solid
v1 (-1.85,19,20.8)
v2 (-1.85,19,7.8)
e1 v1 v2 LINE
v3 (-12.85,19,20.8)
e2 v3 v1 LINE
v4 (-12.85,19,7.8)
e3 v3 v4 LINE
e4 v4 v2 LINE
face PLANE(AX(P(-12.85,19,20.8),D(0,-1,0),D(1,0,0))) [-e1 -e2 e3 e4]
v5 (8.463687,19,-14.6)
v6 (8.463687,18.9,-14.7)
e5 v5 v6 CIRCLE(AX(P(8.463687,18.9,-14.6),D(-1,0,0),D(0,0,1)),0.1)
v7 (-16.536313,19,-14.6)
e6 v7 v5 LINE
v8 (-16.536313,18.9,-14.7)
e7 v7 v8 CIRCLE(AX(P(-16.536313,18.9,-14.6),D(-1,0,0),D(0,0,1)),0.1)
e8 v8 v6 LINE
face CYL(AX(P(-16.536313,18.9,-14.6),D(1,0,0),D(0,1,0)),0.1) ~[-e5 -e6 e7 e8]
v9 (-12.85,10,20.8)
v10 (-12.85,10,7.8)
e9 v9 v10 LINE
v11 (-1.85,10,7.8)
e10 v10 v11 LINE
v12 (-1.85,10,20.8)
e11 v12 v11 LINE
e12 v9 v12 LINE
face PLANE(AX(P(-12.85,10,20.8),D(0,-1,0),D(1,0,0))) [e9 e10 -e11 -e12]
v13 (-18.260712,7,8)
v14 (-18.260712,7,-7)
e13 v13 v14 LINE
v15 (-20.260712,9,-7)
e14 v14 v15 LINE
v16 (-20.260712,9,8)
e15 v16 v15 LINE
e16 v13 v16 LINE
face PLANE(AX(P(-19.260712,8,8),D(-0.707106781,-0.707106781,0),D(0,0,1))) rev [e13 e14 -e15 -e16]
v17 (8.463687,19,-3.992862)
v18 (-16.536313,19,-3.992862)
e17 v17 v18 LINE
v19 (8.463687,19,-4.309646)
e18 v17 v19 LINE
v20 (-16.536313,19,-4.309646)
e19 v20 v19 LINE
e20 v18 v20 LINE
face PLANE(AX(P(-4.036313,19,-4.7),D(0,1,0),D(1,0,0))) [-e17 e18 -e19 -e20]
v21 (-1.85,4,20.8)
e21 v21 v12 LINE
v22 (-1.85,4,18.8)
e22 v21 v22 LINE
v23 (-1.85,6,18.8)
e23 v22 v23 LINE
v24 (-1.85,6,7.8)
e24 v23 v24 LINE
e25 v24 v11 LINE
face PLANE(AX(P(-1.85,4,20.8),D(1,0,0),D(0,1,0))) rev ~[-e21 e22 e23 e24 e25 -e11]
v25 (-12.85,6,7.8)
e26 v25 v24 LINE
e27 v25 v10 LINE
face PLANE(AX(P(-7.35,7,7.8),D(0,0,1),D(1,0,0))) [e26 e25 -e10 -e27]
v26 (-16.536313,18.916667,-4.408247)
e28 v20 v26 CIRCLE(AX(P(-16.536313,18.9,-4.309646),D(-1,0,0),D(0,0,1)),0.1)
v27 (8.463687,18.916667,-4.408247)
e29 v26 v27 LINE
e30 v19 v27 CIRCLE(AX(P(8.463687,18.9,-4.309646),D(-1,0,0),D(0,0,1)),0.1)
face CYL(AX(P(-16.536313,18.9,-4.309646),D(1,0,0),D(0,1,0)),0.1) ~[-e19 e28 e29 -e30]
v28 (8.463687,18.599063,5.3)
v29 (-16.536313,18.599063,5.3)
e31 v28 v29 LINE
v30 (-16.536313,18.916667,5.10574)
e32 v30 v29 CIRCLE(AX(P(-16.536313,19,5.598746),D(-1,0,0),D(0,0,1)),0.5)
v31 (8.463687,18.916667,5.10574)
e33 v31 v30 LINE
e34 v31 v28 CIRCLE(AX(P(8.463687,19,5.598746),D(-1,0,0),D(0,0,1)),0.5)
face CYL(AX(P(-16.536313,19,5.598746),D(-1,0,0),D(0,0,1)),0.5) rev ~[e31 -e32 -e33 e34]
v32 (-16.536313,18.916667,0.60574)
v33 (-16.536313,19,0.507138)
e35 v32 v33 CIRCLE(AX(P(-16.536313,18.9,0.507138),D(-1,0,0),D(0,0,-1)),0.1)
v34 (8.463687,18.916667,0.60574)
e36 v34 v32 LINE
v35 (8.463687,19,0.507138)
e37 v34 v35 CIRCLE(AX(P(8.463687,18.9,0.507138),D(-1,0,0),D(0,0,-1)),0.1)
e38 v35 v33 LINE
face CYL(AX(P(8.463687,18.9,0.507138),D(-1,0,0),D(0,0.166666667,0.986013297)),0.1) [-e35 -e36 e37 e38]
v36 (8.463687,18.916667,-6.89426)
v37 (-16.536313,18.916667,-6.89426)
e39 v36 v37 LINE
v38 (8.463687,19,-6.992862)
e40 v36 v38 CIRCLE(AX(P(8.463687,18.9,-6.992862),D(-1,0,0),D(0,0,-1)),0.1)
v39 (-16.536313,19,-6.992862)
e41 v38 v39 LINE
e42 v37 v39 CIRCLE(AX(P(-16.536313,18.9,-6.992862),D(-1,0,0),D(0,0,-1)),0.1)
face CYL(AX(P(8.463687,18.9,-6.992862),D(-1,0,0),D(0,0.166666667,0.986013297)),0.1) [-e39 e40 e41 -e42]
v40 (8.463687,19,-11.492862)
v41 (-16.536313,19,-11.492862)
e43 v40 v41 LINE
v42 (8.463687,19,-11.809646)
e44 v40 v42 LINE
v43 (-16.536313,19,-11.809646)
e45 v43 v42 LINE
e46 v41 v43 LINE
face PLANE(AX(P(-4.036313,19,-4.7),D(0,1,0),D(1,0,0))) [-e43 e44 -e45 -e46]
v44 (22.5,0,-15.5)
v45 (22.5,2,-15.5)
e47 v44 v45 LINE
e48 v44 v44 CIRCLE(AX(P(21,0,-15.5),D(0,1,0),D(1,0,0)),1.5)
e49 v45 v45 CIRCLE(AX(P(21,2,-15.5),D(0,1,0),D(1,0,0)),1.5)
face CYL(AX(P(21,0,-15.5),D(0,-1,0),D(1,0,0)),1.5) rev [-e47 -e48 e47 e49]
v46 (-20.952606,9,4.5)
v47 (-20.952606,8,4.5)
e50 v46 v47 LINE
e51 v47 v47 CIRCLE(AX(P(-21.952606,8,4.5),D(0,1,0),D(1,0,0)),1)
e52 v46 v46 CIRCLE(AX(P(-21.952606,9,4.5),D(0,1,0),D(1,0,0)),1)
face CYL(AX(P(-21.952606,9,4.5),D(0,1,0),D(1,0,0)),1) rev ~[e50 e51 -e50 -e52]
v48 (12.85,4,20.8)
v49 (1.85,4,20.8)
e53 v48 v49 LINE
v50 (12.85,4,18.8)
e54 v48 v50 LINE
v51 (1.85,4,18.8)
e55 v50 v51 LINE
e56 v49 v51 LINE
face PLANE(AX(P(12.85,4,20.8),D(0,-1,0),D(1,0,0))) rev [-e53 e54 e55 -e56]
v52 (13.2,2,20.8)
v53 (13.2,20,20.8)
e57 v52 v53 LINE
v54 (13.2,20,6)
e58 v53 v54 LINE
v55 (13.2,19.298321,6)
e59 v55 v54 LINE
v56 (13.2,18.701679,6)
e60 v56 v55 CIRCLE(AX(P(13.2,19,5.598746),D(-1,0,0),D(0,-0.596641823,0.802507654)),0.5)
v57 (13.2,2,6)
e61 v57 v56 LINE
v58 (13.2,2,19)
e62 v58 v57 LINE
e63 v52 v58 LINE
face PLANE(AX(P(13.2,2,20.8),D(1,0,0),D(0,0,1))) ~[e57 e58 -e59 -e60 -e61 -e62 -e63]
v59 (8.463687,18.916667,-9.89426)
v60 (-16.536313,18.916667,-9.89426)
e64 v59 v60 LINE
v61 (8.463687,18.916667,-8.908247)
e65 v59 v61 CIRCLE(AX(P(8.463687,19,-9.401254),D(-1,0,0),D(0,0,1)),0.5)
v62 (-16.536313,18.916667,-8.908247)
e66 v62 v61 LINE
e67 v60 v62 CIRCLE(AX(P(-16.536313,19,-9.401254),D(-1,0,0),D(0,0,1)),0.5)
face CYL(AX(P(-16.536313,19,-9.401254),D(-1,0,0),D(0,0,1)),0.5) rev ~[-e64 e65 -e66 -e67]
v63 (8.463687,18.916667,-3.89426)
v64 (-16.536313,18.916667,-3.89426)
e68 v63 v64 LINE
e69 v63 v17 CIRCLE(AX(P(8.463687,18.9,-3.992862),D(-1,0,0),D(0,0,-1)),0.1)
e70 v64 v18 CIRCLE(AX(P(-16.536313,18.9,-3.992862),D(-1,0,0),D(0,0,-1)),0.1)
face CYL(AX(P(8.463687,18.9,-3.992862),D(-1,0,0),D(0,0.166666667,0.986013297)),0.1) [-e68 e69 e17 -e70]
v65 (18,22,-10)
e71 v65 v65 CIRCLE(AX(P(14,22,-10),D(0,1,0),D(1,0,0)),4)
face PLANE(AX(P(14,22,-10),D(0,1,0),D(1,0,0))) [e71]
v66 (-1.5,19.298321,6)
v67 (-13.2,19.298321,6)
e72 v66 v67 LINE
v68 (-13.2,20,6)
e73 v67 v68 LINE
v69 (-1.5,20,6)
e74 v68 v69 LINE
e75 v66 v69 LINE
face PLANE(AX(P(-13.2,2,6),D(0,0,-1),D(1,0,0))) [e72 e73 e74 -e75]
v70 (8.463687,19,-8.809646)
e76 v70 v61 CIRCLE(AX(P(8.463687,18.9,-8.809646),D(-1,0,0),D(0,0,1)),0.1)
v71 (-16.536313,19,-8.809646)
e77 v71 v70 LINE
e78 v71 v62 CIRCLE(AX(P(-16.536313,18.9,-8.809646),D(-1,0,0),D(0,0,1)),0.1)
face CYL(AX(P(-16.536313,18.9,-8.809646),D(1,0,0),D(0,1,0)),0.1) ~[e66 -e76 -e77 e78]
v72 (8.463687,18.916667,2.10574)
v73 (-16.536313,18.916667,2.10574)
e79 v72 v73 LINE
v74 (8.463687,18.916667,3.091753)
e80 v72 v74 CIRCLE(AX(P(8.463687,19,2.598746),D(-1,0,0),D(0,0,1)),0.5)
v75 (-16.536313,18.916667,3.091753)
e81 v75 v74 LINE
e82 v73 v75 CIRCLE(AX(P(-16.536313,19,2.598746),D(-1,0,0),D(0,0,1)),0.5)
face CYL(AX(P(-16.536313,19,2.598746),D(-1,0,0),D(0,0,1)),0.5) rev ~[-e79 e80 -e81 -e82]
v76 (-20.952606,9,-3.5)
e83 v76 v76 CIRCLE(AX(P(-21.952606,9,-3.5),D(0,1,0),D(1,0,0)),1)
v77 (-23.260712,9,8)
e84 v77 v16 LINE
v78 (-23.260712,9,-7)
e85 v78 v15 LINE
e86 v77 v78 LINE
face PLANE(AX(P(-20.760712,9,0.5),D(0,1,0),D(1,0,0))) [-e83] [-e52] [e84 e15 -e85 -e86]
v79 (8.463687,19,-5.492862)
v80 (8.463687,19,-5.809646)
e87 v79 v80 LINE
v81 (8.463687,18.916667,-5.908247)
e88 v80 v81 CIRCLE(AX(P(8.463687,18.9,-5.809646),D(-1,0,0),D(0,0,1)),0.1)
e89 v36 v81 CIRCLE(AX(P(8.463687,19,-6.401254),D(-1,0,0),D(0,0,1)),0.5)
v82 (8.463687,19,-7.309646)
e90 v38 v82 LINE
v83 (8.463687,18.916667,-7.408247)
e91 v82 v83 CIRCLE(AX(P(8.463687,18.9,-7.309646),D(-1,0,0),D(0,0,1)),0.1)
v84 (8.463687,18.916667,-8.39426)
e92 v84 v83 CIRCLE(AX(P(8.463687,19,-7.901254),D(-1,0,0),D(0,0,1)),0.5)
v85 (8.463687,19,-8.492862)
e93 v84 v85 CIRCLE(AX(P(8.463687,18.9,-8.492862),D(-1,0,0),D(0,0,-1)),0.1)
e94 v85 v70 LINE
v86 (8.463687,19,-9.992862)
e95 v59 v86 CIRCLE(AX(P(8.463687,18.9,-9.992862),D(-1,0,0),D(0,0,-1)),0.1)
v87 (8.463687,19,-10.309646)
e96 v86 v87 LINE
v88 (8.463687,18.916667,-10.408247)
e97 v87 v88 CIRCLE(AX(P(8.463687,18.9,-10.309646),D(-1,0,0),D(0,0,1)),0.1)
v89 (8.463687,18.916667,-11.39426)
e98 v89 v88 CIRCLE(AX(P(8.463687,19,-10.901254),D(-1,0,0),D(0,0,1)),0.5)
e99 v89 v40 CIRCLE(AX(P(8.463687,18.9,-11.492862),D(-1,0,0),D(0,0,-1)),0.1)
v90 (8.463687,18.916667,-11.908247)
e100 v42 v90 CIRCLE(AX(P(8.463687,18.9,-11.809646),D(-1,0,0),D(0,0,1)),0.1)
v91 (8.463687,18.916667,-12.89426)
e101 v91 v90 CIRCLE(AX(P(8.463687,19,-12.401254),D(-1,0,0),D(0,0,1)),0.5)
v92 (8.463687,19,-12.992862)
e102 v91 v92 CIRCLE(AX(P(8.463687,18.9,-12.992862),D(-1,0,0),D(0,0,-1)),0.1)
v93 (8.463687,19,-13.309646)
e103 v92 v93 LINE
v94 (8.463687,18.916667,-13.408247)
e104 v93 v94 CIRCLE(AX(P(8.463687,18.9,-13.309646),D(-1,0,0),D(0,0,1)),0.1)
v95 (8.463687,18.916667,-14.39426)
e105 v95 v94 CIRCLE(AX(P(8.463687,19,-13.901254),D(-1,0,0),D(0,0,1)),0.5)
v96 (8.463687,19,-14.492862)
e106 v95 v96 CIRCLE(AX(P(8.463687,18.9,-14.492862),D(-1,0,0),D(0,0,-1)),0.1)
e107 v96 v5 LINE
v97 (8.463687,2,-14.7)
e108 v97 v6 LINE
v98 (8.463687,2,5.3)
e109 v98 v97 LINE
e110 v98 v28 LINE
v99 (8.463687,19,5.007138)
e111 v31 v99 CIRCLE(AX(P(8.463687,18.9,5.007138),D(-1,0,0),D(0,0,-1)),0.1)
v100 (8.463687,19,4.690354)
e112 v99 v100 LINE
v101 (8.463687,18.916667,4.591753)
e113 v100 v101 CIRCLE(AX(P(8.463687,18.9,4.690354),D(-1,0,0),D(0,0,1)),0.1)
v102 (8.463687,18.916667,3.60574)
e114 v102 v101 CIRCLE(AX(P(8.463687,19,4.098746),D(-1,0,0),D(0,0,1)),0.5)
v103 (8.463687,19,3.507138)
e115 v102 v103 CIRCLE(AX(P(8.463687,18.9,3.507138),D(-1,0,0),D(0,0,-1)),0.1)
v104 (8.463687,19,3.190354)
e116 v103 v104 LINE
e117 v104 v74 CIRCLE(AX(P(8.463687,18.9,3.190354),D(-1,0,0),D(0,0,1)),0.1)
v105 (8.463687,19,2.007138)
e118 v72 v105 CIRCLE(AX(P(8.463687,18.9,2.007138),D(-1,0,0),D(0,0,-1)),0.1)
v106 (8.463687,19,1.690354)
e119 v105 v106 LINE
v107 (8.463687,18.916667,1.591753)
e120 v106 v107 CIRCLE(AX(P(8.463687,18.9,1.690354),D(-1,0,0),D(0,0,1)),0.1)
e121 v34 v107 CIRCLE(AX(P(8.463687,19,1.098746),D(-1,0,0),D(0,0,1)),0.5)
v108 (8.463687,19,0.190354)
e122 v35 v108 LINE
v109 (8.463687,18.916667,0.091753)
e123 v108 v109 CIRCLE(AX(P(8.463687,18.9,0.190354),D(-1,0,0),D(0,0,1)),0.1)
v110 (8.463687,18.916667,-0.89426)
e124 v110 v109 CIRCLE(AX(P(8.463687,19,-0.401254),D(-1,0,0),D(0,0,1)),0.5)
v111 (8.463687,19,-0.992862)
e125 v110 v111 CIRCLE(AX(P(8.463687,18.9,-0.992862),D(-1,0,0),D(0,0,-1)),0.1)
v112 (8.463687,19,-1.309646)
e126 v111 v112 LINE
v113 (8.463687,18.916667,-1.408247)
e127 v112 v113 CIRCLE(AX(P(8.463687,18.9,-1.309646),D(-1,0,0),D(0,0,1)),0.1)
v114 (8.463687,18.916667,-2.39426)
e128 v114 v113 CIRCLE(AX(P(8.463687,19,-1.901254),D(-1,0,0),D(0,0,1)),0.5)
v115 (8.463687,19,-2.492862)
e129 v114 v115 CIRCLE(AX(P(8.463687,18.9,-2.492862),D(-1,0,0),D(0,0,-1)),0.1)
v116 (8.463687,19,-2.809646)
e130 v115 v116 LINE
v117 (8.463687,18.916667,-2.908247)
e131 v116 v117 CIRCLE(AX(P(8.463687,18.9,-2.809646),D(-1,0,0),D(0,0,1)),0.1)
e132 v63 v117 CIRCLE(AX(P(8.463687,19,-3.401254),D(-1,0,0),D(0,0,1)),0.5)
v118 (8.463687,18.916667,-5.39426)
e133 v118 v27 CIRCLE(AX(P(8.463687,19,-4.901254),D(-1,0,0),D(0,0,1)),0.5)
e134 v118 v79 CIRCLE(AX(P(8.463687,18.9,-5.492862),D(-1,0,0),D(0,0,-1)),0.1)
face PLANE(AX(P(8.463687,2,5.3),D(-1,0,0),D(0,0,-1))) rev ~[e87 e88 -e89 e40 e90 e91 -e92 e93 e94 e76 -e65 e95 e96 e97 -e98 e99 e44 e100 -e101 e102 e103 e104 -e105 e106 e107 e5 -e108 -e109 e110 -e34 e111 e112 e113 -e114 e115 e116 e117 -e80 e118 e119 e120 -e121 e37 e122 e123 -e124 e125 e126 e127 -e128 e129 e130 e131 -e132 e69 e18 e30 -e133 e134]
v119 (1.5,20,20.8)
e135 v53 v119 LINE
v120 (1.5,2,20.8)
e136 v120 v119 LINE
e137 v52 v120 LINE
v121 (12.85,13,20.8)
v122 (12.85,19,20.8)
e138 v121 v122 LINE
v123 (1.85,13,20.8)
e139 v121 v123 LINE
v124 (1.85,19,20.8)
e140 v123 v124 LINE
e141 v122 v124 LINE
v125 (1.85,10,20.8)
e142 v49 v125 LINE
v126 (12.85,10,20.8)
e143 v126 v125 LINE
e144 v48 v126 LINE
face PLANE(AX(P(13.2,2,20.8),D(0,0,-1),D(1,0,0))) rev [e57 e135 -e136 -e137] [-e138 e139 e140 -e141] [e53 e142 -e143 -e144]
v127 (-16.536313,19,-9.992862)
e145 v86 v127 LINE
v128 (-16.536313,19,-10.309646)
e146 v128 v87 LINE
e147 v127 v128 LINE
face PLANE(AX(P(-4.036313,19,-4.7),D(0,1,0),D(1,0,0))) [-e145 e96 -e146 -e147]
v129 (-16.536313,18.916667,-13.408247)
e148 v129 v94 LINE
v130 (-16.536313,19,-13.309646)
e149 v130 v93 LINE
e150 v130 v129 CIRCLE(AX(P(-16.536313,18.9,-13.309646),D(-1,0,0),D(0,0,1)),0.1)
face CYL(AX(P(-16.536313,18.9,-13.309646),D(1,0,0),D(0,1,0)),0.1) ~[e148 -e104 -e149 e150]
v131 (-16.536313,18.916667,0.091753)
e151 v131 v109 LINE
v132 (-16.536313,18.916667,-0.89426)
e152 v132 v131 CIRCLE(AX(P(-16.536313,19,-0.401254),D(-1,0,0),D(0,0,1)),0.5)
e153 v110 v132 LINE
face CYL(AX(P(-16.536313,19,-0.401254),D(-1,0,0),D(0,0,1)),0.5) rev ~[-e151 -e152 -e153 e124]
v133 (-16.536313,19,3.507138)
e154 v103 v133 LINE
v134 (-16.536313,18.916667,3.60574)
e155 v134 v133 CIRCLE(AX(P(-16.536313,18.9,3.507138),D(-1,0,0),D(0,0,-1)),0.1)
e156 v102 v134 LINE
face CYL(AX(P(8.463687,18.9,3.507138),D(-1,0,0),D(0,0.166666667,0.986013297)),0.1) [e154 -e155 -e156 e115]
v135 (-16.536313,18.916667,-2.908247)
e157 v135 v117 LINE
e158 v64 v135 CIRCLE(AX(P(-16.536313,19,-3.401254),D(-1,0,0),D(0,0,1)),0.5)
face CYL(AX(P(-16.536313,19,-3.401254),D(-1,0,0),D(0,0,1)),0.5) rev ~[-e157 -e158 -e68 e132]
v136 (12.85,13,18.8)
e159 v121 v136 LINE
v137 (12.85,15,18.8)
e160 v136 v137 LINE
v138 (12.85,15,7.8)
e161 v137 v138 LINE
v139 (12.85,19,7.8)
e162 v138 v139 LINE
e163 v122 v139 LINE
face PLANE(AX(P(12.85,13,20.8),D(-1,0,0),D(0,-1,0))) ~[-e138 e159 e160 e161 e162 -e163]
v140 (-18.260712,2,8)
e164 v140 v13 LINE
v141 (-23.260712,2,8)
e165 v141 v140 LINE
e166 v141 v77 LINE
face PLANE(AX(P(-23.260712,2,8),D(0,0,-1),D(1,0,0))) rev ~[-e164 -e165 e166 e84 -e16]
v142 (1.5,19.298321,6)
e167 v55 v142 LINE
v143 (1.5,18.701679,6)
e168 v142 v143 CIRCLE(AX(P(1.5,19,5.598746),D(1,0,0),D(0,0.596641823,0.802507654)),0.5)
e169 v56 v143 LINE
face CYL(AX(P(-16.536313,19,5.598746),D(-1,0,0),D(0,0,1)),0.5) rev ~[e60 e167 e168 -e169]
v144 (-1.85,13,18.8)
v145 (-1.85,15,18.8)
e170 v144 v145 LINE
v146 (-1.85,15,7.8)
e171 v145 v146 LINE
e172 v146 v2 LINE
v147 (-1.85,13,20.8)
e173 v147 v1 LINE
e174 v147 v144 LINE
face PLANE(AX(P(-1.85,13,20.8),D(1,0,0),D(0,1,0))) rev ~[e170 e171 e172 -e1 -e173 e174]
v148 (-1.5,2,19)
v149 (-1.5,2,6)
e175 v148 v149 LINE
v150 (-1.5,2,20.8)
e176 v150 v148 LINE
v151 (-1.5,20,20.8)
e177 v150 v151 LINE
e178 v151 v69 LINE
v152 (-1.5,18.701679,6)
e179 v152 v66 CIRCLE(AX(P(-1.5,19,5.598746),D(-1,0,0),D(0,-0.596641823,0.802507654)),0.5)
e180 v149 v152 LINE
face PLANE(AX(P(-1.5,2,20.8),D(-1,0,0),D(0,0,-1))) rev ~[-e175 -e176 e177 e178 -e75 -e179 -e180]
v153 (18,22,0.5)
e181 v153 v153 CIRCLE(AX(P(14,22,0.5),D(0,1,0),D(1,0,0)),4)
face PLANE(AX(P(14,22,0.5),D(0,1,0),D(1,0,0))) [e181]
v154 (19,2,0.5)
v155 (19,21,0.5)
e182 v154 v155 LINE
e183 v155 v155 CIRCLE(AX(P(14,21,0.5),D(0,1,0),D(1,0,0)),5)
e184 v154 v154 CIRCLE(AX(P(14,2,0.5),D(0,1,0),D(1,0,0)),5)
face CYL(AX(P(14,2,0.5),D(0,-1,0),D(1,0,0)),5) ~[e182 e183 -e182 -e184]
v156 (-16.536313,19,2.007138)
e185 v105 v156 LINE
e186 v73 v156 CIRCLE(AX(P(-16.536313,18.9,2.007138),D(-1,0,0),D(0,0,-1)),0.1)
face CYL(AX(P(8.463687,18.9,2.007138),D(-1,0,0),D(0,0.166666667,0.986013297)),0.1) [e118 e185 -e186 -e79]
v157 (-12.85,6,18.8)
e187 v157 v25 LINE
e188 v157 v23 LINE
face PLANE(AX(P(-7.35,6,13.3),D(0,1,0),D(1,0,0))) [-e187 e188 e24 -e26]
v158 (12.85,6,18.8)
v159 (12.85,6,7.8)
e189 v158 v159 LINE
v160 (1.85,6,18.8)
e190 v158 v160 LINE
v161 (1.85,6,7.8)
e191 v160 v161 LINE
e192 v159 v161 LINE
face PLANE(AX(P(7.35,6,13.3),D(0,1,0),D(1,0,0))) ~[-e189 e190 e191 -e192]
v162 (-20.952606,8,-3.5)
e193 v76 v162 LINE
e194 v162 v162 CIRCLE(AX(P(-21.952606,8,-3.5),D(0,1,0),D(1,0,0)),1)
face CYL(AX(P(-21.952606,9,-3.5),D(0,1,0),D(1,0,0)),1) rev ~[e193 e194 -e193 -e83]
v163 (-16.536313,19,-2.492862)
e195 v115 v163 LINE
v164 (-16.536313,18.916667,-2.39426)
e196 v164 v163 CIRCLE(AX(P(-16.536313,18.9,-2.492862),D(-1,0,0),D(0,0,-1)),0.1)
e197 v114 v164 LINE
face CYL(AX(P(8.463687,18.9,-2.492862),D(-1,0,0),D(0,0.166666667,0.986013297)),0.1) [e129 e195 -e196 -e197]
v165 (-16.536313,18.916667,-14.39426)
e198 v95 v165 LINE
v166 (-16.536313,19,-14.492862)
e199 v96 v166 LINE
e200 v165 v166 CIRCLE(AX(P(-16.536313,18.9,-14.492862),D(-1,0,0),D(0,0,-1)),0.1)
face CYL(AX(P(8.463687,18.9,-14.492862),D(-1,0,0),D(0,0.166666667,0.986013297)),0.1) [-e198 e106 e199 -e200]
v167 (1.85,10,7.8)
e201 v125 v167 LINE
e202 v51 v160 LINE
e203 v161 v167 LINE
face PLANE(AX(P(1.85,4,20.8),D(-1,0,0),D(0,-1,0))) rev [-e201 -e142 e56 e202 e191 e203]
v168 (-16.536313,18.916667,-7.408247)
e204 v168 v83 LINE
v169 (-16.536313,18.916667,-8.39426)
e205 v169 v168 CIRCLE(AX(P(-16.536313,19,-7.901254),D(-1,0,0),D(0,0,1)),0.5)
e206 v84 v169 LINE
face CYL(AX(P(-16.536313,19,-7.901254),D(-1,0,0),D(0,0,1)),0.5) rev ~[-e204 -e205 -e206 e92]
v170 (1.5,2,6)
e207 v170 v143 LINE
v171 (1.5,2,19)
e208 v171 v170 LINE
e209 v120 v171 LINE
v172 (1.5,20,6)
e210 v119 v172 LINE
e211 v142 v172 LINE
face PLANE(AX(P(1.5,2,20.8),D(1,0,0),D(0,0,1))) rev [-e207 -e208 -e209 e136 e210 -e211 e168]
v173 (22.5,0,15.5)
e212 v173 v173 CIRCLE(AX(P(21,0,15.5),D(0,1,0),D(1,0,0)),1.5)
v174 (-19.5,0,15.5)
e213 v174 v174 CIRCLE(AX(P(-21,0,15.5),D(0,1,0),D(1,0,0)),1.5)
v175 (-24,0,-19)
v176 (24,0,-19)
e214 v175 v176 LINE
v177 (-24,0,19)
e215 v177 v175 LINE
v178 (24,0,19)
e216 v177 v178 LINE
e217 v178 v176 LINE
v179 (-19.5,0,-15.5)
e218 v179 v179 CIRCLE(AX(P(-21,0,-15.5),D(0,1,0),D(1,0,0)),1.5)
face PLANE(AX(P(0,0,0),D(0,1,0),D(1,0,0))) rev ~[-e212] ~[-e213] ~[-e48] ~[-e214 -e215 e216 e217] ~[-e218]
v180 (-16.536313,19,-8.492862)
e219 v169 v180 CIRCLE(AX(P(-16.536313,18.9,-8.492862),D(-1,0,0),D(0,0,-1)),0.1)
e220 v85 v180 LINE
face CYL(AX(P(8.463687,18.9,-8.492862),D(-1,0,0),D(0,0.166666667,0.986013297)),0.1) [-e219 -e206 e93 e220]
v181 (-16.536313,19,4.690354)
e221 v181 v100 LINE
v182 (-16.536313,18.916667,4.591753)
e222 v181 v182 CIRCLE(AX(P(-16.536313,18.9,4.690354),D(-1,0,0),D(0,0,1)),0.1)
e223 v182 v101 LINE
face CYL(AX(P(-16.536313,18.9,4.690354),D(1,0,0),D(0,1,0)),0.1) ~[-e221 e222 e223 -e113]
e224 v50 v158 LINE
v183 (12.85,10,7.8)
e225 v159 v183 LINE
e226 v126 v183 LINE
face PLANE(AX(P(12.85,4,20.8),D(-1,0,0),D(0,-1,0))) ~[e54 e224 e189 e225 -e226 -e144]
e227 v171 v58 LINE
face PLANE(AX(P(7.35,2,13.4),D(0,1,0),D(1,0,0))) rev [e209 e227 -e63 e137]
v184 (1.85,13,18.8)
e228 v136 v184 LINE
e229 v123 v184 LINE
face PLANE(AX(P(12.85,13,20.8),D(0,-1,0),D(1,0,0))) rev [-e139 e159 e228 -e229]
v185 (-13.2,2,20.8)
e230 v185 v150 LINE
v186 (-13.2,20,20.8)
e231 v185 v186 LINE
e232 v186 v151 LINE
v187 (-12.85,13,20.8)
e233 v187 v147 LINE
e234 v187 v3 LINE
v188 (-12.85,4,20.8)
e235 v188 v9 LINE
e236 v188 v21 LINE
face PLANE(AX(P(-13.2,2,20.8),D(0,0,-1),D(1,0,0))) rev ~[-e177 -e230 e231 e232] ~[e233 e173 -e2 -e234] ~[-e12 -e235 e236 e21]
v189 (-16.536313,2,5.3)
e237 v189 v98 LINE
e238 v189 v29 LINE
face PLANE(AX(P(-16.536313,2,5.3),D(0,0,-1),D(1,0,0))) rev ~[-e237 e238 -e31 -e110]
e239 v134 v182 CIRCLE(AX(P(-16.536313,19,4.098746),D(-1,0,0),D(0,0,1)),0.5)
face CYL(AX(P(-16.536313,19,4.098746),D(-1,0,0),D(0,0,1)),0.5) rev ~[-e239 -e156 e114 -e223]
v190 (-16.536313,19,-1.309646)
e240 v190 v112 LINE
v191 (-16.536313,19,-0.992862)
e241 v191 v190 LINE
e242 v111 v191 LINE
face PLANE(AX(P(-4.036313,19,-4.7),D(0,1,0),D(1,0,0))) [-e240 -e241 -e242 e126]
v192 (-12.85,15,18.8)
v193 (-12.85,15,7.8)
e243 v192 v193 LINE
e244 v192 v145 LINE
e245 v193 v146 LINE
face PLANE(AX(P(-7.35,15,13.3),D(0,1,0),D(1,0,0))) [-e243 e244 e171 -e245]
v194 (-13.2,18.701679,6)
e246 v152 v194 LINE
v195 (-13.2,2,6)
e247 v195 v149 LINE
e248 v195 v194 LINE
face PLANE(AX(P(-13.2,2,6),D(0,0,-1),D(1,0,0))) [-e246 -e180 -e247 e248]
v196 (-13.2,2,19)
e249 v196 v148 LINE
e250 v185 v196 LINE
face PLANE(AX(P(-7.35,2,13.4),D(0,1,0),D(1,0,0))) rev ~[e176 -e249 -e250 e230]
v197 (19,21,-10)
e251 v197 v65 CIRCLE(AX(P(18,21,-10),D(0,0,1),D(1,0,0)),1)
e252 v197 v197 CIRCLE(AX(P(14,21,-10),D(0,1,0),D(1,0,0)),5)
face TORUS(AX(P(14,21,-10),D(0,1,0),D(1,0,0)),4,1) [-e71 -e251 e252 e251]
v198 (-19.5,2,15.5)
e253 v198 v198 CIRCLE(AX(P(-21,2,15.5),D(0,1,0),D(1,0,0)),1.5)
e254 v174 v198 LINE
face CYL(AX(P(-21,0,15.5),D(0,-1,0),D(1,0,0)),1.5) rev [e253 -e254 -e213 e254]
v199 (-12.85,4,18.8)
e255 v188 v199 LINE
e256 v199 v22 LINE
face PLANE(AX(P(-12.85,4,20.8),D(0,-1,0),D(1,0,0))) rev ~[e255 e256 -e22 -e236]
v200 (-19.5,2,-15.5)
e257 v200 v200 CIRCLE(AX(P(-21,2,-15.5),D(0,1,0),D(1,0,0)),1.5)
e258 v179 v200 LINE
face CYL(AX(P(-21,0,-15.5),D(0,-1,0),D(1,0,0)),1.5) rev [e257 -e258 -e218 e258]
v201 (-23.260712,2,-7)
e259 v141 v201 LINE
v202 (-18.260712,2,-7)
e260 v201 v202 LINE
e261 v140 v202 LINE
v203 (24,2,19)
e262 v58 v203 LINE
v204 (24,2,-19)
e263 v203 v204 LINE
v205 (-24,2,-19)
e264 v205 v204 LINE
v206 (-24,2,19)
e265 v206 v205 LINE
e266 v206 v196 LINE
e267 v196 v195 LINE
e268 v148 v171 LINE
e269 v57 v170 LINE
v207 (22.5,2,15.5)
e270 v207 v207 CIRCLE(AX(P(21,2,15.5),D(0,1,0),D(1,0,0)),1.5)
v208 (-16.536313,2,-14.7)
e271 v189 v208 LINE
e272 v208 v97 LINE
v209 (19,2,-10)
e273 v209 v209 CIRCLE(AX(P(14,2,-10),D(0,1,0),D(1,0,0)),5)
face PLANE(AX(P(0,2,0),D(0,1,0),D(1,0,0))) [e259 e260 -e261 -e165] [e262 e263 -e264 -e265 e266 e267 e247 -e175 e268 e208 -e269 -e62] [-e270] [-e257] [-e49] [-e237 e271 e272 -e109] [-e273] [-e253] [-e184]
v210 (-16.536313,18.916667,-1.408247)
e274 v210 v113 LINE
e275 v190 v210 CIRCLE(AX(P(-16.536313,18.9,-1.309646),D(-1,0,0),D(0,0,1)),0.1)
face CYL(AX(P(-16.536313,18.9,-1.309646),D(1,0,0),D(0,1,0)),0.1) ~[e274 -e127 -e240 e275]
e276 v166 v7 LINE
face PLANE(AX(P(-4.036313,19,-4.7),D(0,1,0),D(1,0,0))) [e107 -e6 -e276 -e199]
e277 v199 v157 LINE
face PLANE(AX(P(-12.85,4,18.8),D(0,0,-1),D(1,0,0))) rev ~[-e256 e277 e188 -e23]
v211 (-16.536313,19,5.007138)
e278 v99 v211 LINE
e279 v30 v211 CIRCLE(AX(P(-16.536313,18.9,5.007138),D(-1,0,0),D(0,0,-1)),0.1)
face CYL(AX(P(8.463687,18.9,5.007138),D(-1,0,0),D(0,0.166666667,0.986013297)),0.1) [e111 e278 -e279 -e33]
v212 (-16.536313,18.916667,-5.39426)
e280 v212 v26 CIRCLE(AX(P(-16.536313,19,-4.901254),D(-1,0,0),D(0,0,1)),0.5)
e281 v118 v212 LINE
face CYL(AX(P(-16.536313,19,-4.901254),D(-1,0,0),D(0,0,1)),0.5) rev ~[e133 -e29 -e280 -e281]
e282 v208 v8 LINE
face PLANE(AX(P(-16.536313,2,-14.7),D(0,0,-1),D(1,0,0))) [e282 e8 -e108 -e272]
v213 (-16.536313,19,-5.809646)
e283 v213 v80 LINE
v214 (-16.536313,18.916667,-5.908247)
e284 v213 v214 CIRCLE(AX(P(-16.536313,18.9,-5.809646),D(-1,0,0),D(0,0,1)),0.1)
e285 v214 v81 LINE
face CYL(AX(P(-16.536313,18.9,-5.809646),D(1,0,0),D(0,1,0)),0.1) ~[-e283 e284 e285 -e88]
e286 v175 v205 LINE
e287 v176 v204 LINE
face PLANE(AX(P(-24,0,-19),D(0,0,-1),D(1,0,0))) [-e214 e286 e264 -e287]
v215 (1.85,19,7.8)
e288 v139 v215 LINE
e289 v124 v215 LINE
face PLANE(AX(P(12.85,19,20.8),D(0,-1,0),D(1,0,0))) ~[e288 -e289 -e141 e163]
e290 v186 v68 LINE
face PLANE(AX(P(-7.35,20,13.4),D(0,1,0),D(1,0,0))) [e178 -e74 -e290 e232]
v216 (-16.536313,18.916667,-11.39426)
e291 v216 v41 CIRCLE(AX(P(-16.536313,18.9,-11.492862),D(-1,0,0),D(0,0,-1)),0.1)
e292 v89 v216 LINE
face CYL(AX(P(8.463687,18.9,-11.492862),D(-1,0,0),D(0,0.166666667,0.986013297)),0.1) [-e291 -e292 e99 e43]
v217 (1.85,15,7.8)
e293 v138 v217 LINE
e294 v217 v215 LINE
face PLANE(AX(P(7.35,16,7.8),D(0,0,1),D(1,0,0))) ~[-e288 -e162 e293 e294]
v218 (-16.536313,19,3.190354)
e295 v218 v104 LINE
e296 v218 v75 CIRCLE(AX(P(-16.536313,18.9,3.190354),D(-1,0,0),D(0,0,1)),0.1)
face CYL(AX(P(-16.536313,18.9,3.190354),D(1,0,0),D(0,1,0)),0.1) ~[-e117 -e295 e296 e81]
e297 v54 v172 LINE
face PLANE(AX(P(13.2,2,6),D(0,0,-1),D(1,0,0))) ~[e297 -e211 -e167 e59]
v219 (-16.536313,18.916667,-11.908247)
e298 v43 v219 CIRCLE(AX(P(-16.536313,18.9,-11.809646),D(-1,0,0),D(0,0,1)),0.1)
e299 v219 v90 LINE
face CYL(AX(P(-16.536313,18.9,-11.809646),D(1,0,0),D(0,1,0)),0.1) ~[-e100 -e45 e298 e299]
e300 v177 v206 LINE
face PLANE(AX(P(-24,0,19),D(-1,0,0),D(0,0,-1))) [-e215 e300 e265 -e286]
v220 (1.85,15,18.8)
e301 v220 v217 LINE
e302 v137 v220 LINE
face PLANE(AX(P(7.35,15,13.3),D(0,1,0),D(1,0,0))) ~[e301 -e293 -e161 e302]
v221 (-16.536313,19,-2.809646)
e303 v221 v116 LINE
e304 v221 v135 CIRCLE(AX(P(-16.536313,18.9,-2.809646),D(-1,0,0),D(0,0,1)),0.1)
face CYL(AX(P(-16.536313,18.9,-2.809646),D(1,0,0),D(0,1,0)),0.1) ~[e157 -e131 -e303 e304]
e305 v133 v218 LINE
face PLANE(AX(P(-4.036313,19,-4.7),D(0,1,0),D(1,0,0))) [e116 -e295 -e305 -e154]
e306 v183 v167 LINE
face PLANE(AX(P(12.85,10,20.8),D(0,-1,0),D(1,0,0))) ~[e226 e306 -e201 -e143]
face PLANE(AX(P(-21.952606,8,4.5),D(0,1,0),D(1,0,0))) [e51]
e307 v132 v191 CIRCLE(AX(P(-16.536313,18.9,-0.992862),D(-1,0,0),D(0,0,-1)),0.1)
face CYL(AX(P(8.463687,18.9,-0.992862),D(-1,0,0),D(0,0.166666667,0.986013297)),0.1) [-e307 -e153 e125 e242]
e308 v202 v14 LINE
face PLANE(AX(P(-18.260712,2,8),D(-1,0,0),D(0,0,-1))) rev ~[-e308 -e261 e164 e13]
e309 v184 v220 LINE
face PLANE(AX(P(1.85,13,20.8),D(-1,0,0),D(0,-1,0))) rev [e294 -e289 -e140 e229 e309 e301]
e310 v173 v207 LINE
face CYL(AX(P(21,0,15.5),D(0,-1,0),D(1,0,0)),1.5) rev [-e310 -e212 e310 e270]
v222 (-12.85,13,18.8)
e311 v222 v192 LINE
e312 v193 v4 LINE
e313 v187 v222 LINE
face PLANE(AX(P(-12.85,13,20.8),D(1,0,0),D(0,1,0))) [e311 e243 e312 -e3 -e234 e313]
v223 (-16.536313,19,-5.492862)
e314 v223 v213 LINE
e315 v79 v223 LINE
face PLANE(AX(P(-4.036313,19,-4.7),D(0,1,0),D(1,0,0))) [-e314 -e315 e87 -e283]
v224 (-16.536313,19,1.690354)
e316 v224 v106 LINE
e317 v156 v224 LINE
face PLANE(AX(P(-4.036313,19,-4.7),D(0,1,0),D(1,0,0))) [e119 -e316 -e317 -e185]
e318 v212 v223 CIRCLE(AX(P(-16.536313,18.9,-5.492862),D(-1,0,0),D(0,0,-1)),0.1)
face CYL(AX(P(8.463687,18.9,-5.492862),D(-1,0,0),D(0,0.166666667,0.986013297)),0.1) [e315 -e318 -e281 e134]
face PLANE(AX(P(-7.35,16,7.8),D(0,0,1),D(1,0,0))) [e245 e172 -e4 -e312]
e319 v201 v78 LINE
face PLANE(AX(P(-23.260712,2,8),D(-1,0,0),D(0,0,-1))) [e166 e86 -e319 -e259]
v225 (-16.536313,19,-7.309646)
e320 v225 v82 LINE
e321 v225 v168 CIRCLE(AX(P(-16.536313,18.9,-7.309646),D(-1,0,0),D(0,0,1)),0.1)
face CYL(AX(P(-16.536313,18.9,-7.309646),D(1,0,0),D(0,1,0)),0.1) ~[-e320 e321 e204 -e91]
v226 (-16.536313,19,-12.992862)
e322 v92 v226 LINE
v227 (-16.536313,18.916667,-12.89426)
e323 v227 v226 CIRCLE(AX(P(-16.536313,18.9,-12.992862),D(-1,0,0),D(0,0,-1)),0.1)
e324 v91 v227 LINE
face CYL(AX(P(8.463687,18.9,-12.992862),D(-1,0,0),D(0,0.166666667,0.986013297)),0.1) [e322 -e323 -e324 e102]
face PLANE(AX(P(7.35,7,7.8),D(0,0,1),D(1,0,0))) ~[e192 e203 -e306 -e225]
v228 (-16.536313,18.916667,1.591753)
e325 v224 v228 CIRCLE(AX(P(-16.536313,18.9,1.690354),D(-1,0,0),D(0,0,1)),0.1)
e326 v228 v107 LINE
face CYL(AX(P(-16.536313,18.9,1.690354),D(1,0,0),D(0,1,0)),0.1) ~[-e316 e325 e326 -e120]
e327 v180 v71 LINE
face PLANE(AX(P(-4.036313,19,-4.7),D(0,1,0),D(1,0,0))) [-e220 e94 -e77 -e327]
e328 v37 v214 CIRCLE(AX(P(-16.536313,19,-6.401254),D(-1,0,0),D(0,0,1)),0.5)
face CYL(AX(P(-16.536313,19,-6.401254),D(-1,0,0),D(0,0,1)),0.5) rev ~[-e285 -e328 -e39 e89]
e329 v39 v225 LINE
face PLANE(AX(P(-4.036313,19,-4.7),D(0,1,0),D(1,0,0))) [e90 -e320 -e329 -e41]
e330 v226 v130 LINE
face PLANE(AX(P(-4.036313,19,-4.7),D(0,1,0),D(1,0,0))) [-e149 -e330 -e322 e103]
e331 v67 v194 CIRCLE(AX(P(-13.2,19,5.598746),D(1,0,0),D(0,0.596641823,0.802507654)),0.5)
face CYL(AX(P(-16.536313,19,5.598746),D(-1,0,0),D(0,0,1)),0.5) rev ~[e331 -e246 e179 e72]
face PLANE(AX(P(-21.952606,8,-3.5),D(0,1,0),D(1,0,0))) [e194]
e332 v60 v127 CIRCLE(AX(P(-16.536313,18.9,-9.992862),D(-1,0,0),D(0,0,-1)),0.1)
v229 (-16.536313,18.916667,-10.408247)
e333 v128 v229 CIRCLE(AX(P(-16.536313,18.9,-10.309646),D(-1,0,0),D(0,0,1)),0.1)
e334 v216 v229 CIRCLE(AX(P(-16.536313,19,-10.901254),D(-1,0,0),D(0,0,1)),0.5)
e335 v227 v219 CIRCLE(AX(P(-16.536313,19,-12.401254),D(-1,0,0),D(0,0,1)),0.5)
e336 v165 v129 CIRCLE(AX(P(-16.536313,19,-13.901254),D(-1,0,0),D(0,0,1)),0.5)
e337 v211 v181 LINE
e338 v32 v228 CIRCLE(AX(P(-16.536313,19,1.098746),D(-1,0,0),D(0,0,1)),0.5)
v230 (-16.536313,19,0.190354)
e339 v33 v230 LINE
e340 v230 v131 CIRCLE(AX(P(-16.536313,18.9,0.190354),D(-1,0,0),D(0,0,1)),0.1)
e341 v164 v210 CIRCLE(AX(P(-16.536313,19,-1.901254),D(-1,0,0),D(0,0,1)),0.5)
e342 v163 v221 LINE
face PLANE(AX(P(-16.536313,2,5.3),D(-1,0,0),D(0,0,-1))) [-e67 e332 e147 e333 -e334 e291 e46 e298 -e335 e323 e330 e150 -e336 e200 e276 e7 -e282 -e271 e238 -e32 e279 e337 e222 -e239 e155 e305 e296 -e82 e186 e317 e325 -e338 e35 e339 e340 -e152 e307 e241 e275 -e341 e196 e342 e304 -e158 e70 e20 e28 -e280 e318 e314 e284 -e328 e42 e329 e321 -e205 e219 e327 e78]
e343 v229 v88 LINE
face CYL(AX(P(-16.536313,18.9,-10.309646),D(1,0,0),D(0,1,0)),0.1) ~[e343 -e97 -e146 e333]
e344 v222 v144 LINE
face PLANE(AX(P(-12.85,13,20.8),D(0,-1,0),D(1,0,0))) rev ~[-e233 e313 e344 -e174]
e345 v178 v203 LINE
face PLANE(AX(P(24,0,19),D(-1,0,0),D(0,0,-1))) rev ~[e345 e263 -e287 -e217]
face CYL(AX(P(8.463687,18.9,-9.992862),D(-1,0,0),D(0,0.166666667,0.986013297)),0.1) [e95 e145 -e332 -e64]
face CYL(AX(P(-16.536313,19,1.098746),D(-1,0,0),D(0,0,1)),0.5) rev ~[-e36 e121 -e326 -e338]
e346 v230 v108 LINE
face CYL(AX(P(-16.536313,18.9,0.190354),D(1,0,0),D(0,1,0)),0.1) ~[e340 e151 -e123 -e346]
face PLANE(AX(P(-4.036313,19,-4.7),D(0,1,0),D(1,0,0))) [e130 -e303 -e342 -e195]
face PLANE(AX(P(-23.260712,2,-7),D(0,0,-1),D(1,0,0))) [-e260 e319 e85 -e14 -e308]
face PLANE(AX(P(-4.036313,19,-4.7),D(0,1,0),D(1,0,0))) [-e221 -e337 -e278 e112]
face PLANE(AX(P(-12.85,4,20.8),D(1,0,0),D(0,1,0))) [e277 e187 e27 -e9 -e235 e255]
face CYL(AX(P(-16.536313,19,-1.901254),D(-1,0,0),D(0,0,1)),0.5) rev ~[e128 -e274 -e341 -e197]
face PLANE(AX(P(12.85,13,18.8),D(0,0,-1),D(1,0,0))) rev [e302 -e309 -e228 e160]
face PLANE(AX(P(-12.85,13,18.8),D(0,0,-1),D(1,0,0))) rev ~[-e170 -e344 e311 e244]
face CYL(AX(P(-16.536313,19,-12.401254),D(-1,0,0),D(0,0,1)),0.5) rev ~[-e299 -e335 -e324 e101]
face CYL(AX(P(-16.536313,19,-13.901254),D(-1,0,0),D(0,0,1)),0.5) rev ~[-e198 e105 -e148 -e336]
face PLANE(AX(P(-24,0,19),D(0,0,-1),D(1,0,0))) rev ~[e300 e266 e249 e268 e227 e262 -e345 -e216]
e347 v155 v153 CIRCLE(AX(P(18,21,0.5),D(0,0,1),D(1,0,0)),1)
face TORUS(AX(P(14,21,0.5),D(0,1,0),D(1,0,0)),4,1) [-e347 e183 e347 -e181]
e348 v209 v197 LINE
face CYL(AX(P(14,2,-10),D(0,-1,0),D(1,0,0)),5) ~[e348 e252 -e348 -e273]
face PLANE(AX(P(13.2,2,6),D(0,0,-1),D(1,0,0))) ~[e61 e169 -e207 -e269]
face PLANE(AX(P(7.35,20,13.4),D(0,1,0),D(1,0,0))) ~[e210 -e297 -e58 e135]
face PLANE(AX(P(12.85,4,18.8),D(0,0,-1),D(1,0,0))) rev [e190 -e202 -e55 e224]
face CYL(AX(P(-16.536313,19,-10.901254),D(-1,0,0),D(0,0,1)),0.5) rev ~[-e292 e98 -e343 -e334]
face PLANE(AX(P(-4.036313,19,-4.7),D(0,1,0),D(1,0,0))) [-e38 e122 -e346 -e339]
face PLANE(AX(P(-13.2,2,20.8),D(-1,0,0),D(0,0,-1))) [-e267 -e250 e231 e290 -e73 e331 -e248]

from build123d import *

# Parameters (mm, degrees)
SKETCH1_W           = 48
SKETCH1_H           = 38
SKETCH1_R           = 1.5
BOSS_EXTRUDE1_DEPTH = 2
SKETCH2_W           = 11.7
SKETCH2_H           = 14.8
BOSS_EXTRUDE2_DEPTH = 18
SKETCH3_W           = 11
SKETCH3_H           = 6
CUT_EXTRUDE1_DEPTH  = 13
SKETCH4_W           = 11
SKETCH4_H           = 11
BOSS_EXTRUDE3_DEPTH = 2
SKETCH5_W           = 11
SKETCH5_H           = 11
BOSS_EXTRUDE4_DEPTH = 2
SKETCH6_W           = 25
SKETCH6_H           = 20
BOSS_EXTRUDE5_DEPTH = 17
SKETCH7_R           = 0.5
CUT_EXTRUDE2_DEPTH  = 41.536312966
FILLET1_R           = 0.1
SKETCH8_R           = 5
BOSS_EXTRUDE6_DEPTH = 20
FILLET2_R           = 1
SKETCH9_W           = 5
SKETCH9_H           = 15
BOSS_EXTRUDE7_DEPTH = 7
CHAMFER1_SIZE       = 2
SKETCH10_R          = 1
CUT_EXTRUDE3_DEPTH  = 1


with BuildPart() as part:
    # Sketch1 → Boss-Extrude1 (new body)
    with BuildSketch(Plane(origin=(0, 0, 0), x_dir=(1, 0, 0), z_dir=(0, 1, 0))):
        Rectangle(SKETCH1_W, SKETCH1_H)
        with Locations((-21, 15.5)):
            Circle(SKETCH1_R, mode=Mode.SUBTRACT)
        with Locations((-21, -15.5)):
            Circle(SKETCH1_R, mode=Mode.SUBTRACT)
        with Locations((21, -15.5)):
            Circle(SKETCH1_R, mode=Mode.SUBTRACT)
        with Locations((21, 15.5)):
            Circle(SKETCH1_R, mode=Mode.SUBTRACT)
    extrude(amount=BOSS_EXTRUDE1_DEPTH)

    # Sketch2 → Boss-Extrude2 (add)
    with BuildSketch(Plane(origin=(0, 2, 0), x_dir=(1, 0, 0), z_dir=(0, 1, 0))):
        with Locations((-7.35, -13.4)):
            Rectangle(SKETCH2_W, SKETCH2_H)
    boss_extrude2 = extrude(amount=BOSS_EXTRUDE2_DEPTH)

    # Sketch3 → Cut-Extrude1 (cut)
    with BuildSketch(Plane.XY.offset(20.8)):
        with Locations((-7.35, 16)):
            Rectangle(SKETCH3_W, SKETCH3_H)
        with Locations((-7.35, 7)):
            Rectangle(SKETCH3_W, SKETCH3_H)
    cut_extrude1 = extrude(amount=-CUT_EXTRUDE1_DEPTH, mode=Mode.SUBTRACT)

    # Sketch4 → Boss-Extrude3 (add)
    with BuildSketch(Plane(origin=(0, 13, 0), x_dir=(1, 0, 0), z_dir=(0, 1, 0))):
        with Locations((-7.35, -13.3)):
            Rectangle(SKETCH4_W, SKETCH4_H)
    boss_extrude3 = extrude(amount=BOSS_EXTRUDE3_DEPTH)

    # Sketch5 → Boss-Extrude4 (add)
    with BuildSketch(Plane(origin=(0, 4, 0), x_dir=(1, 0, 0), z_dir=(0, 1, 0))):
        with Locations((-7.35, -13.3)):
            Rectangle(SKETCH5_W, SKETCH5_H)
    boss_extrude4 = extrude(amount=BOSS_EXTRUDE4_DEPTH)

    # Mirror1: Boss-Extrude2, Cut-Extrude1, Boss-Extrude3, Boss-Extrude4 across plane
    add(boss_extrude2.mirror(Plane(origin=(0, 0, 0), x_dir=(0, 0, 1), z_dir=(1, 0, 0))))
    add(cut_extrude1.mirror(Plane(origin=(0, 0, 0), x_dir=(0, 0, 1), z_dir=(1, 0, 0))), mode=Mode.SUBTRACT)
    add(boss_extrude3.mirror(Plane(origin=(0, 0, 0), x_dir=(0, 0, 1), z_dir=(1, 0, 0))))
    add(boss_extrude4.mirror(Plane(origin=(0, 0, 0), x_dir=(0, 0, 1), z_dir=(1, 0, 0))))

    # Sketch6 → Boss-Extrude5 (add)
    with BuildSketch(Plane(origin=(0, 2, 0), x_dir=(1, 0, 0), z_dir=(0, 1, 0))):
        with Locations((-4.036312966, 4.7)):
            Rectangle(SKETCH6_W, SKETCH6_H)
    extrude(amount=BOSS_EXTRUDE5_DEPTH)

    # Sketch7 → Cut-Extrude2 (cut, through all)
    with BuildSketch(Plane.ZY.offset(16.536312966)):
        with Locations((-13.901253827, 19)):
            Circle(SKETCH7_R)
        with Locations((-12.401253827, 19)):
            Circle(SKETCH7_R)
        with Locations((-10.901253827, 19)):
            Circle(SKETCH7_R)
        with Locations((-9.401253827, 19)):
            Circle(SKETCH7_R)
        with Locations((-7.901253827, 19)):
            Circle(SKETCH7_R)
        with Locations((-6.401253827, 19)):
            Circle(SKETCH7_R)
        with Locations((-4.901253827, 19)):
            Circle(SKETCH7_R)
        with Locations((-3.401253827, 19)):
            Circle(SKETCH7_R)
        with Locations((-1.901253827, 19)):
            Circle(SKETCH7_R)
        with Locations((-0.401253827, 19)):
            Circle(SKETCH7_R)
        with Locations((1.098746173, 19)):
            Circle(SKETCH7_R)
        with Locations((2.598746173, 19)):
            Circle(SKETCH7_R)
        with Locations((4.098746173, 19)):
            Circle(SKETCH7_R)
        with Locations((5.598746173, 19)):
            Circle(SKETCH7_R)
    extrude(amount=-CUT_EXTRUDE2_DEPTH, mode=Mode.SUBTRACT)

    # Fillet1
    fillet1_edges = [part.edges().sort_by_distance(p)[0] for p in [
        (-4.036312966, 19, -14.7),
        (-4.036312966, 19, -13.401253827),
        (-4.036312966, 19, -14.401253827),
        (-4.036312966, 19, -11.901253827),
        (-4.036312966, 19, -12.901253827),
        (-4.036312966, 19, -10.401253827),
        (-4.036312966, 19, -11.401253827),
        (-4.036312966, 19, -8.901253827),
        (-4.036312966, 19, -9.901253827),
        (-4.036312966, 19, -7.401253827),
        (-4.036312966, 19, -8.401253827),
        (-4.036312966, 19, -5.901253827),
        (-4.036312966, 19, -6.901253827),
        (-4.036312966, 19, -4.401253827),
        (-4.036312966, 19, -5.401253827),
        (-4.036312966, 19, -2.901253827),
        (-4.036312966, 19, -3.901253827),
        (-4.036312966, 19, -1.401253827),
        (-4.036312966, 19, -2.401253827),
        (-4.036312966, 19, 0.098746173),
        (-4.036312966, 19, -0.901253827),
        (-4.036312966, 19, 1.598746173),
        (-4.036312966, 19, 0.598746173),
        (-4.036312966, 19, 3.098746173),
        (-4.036312966, 19, 2.098746173),
        (-4.036312966, 19, 4.598746173),
        (-4.036312966, 19, 3.598746173),
        (-4.036312966, 19, 5.098746173),
    ]]
    fillet(fillet1_edges, radius=FILLET1_R)

    # Sketch8 → Boss-Extrude6 (add)
    with BuildSketch(Plane(origin=(0, 2, 0), x_dir=(1, 0, 0), z_dir=(0, 1, 0))):
        with Locations((14, 10)):
            Circle(SKETCH8_R)
        with Locations((14, -0.5)):
            Circle(SKETCH8_R)
    extrude(amount=BOSS_EXTRUDE6_DEPTH)

    # Fillet2
    fillet2_edges = [part.edges().sort_by_distance(p)[0] for p in [
        (9, 22, -10),
        (9, 22, 0.5),
    ]]
    fillet(fillet2_edges, radius=FILLET2_R)

    # Sketch9 → Boss-Extrude7 (add)
    with BuildSketch(Plane(origin=(0, 2, 0), x_dir=(1, 0, 0), z_dir=(0, 1, 0))):
        with Locations((-20.760712337, -0.5)):
            Rectangle(SKETCH9_W, SKETCH9_H)
    extrude(amount=BOSS_EXTRUDE7_DEPTH)

    # Chamfer1
    chamfer1_edges = [part.edges().sort_by_distance(p)[0] for p in [
        (-18.260712337, 9, 0.5),
    ]]
    chamfer(chamfer1_edges, length=CHAMFER1_SIZE)

    # Sketch10 → Cut-Extrude3 (cut)
    with BuildSketch(Plane(origin=(0, 9, 0), x_dir=(1, 0, 0), z_dir=(0, 1, 0))):
        with Locations((-21.952606412, 3.5)):
            Circle(SKETCH10_R)
        with Locations((-21.952606412, -4.5)):
            Circle(SKETCH10_R)
    extrude(amount=-CUT_EXTRUDE3_DEPTH, mode=Mode.SUBTRACT)


solid = part.part
